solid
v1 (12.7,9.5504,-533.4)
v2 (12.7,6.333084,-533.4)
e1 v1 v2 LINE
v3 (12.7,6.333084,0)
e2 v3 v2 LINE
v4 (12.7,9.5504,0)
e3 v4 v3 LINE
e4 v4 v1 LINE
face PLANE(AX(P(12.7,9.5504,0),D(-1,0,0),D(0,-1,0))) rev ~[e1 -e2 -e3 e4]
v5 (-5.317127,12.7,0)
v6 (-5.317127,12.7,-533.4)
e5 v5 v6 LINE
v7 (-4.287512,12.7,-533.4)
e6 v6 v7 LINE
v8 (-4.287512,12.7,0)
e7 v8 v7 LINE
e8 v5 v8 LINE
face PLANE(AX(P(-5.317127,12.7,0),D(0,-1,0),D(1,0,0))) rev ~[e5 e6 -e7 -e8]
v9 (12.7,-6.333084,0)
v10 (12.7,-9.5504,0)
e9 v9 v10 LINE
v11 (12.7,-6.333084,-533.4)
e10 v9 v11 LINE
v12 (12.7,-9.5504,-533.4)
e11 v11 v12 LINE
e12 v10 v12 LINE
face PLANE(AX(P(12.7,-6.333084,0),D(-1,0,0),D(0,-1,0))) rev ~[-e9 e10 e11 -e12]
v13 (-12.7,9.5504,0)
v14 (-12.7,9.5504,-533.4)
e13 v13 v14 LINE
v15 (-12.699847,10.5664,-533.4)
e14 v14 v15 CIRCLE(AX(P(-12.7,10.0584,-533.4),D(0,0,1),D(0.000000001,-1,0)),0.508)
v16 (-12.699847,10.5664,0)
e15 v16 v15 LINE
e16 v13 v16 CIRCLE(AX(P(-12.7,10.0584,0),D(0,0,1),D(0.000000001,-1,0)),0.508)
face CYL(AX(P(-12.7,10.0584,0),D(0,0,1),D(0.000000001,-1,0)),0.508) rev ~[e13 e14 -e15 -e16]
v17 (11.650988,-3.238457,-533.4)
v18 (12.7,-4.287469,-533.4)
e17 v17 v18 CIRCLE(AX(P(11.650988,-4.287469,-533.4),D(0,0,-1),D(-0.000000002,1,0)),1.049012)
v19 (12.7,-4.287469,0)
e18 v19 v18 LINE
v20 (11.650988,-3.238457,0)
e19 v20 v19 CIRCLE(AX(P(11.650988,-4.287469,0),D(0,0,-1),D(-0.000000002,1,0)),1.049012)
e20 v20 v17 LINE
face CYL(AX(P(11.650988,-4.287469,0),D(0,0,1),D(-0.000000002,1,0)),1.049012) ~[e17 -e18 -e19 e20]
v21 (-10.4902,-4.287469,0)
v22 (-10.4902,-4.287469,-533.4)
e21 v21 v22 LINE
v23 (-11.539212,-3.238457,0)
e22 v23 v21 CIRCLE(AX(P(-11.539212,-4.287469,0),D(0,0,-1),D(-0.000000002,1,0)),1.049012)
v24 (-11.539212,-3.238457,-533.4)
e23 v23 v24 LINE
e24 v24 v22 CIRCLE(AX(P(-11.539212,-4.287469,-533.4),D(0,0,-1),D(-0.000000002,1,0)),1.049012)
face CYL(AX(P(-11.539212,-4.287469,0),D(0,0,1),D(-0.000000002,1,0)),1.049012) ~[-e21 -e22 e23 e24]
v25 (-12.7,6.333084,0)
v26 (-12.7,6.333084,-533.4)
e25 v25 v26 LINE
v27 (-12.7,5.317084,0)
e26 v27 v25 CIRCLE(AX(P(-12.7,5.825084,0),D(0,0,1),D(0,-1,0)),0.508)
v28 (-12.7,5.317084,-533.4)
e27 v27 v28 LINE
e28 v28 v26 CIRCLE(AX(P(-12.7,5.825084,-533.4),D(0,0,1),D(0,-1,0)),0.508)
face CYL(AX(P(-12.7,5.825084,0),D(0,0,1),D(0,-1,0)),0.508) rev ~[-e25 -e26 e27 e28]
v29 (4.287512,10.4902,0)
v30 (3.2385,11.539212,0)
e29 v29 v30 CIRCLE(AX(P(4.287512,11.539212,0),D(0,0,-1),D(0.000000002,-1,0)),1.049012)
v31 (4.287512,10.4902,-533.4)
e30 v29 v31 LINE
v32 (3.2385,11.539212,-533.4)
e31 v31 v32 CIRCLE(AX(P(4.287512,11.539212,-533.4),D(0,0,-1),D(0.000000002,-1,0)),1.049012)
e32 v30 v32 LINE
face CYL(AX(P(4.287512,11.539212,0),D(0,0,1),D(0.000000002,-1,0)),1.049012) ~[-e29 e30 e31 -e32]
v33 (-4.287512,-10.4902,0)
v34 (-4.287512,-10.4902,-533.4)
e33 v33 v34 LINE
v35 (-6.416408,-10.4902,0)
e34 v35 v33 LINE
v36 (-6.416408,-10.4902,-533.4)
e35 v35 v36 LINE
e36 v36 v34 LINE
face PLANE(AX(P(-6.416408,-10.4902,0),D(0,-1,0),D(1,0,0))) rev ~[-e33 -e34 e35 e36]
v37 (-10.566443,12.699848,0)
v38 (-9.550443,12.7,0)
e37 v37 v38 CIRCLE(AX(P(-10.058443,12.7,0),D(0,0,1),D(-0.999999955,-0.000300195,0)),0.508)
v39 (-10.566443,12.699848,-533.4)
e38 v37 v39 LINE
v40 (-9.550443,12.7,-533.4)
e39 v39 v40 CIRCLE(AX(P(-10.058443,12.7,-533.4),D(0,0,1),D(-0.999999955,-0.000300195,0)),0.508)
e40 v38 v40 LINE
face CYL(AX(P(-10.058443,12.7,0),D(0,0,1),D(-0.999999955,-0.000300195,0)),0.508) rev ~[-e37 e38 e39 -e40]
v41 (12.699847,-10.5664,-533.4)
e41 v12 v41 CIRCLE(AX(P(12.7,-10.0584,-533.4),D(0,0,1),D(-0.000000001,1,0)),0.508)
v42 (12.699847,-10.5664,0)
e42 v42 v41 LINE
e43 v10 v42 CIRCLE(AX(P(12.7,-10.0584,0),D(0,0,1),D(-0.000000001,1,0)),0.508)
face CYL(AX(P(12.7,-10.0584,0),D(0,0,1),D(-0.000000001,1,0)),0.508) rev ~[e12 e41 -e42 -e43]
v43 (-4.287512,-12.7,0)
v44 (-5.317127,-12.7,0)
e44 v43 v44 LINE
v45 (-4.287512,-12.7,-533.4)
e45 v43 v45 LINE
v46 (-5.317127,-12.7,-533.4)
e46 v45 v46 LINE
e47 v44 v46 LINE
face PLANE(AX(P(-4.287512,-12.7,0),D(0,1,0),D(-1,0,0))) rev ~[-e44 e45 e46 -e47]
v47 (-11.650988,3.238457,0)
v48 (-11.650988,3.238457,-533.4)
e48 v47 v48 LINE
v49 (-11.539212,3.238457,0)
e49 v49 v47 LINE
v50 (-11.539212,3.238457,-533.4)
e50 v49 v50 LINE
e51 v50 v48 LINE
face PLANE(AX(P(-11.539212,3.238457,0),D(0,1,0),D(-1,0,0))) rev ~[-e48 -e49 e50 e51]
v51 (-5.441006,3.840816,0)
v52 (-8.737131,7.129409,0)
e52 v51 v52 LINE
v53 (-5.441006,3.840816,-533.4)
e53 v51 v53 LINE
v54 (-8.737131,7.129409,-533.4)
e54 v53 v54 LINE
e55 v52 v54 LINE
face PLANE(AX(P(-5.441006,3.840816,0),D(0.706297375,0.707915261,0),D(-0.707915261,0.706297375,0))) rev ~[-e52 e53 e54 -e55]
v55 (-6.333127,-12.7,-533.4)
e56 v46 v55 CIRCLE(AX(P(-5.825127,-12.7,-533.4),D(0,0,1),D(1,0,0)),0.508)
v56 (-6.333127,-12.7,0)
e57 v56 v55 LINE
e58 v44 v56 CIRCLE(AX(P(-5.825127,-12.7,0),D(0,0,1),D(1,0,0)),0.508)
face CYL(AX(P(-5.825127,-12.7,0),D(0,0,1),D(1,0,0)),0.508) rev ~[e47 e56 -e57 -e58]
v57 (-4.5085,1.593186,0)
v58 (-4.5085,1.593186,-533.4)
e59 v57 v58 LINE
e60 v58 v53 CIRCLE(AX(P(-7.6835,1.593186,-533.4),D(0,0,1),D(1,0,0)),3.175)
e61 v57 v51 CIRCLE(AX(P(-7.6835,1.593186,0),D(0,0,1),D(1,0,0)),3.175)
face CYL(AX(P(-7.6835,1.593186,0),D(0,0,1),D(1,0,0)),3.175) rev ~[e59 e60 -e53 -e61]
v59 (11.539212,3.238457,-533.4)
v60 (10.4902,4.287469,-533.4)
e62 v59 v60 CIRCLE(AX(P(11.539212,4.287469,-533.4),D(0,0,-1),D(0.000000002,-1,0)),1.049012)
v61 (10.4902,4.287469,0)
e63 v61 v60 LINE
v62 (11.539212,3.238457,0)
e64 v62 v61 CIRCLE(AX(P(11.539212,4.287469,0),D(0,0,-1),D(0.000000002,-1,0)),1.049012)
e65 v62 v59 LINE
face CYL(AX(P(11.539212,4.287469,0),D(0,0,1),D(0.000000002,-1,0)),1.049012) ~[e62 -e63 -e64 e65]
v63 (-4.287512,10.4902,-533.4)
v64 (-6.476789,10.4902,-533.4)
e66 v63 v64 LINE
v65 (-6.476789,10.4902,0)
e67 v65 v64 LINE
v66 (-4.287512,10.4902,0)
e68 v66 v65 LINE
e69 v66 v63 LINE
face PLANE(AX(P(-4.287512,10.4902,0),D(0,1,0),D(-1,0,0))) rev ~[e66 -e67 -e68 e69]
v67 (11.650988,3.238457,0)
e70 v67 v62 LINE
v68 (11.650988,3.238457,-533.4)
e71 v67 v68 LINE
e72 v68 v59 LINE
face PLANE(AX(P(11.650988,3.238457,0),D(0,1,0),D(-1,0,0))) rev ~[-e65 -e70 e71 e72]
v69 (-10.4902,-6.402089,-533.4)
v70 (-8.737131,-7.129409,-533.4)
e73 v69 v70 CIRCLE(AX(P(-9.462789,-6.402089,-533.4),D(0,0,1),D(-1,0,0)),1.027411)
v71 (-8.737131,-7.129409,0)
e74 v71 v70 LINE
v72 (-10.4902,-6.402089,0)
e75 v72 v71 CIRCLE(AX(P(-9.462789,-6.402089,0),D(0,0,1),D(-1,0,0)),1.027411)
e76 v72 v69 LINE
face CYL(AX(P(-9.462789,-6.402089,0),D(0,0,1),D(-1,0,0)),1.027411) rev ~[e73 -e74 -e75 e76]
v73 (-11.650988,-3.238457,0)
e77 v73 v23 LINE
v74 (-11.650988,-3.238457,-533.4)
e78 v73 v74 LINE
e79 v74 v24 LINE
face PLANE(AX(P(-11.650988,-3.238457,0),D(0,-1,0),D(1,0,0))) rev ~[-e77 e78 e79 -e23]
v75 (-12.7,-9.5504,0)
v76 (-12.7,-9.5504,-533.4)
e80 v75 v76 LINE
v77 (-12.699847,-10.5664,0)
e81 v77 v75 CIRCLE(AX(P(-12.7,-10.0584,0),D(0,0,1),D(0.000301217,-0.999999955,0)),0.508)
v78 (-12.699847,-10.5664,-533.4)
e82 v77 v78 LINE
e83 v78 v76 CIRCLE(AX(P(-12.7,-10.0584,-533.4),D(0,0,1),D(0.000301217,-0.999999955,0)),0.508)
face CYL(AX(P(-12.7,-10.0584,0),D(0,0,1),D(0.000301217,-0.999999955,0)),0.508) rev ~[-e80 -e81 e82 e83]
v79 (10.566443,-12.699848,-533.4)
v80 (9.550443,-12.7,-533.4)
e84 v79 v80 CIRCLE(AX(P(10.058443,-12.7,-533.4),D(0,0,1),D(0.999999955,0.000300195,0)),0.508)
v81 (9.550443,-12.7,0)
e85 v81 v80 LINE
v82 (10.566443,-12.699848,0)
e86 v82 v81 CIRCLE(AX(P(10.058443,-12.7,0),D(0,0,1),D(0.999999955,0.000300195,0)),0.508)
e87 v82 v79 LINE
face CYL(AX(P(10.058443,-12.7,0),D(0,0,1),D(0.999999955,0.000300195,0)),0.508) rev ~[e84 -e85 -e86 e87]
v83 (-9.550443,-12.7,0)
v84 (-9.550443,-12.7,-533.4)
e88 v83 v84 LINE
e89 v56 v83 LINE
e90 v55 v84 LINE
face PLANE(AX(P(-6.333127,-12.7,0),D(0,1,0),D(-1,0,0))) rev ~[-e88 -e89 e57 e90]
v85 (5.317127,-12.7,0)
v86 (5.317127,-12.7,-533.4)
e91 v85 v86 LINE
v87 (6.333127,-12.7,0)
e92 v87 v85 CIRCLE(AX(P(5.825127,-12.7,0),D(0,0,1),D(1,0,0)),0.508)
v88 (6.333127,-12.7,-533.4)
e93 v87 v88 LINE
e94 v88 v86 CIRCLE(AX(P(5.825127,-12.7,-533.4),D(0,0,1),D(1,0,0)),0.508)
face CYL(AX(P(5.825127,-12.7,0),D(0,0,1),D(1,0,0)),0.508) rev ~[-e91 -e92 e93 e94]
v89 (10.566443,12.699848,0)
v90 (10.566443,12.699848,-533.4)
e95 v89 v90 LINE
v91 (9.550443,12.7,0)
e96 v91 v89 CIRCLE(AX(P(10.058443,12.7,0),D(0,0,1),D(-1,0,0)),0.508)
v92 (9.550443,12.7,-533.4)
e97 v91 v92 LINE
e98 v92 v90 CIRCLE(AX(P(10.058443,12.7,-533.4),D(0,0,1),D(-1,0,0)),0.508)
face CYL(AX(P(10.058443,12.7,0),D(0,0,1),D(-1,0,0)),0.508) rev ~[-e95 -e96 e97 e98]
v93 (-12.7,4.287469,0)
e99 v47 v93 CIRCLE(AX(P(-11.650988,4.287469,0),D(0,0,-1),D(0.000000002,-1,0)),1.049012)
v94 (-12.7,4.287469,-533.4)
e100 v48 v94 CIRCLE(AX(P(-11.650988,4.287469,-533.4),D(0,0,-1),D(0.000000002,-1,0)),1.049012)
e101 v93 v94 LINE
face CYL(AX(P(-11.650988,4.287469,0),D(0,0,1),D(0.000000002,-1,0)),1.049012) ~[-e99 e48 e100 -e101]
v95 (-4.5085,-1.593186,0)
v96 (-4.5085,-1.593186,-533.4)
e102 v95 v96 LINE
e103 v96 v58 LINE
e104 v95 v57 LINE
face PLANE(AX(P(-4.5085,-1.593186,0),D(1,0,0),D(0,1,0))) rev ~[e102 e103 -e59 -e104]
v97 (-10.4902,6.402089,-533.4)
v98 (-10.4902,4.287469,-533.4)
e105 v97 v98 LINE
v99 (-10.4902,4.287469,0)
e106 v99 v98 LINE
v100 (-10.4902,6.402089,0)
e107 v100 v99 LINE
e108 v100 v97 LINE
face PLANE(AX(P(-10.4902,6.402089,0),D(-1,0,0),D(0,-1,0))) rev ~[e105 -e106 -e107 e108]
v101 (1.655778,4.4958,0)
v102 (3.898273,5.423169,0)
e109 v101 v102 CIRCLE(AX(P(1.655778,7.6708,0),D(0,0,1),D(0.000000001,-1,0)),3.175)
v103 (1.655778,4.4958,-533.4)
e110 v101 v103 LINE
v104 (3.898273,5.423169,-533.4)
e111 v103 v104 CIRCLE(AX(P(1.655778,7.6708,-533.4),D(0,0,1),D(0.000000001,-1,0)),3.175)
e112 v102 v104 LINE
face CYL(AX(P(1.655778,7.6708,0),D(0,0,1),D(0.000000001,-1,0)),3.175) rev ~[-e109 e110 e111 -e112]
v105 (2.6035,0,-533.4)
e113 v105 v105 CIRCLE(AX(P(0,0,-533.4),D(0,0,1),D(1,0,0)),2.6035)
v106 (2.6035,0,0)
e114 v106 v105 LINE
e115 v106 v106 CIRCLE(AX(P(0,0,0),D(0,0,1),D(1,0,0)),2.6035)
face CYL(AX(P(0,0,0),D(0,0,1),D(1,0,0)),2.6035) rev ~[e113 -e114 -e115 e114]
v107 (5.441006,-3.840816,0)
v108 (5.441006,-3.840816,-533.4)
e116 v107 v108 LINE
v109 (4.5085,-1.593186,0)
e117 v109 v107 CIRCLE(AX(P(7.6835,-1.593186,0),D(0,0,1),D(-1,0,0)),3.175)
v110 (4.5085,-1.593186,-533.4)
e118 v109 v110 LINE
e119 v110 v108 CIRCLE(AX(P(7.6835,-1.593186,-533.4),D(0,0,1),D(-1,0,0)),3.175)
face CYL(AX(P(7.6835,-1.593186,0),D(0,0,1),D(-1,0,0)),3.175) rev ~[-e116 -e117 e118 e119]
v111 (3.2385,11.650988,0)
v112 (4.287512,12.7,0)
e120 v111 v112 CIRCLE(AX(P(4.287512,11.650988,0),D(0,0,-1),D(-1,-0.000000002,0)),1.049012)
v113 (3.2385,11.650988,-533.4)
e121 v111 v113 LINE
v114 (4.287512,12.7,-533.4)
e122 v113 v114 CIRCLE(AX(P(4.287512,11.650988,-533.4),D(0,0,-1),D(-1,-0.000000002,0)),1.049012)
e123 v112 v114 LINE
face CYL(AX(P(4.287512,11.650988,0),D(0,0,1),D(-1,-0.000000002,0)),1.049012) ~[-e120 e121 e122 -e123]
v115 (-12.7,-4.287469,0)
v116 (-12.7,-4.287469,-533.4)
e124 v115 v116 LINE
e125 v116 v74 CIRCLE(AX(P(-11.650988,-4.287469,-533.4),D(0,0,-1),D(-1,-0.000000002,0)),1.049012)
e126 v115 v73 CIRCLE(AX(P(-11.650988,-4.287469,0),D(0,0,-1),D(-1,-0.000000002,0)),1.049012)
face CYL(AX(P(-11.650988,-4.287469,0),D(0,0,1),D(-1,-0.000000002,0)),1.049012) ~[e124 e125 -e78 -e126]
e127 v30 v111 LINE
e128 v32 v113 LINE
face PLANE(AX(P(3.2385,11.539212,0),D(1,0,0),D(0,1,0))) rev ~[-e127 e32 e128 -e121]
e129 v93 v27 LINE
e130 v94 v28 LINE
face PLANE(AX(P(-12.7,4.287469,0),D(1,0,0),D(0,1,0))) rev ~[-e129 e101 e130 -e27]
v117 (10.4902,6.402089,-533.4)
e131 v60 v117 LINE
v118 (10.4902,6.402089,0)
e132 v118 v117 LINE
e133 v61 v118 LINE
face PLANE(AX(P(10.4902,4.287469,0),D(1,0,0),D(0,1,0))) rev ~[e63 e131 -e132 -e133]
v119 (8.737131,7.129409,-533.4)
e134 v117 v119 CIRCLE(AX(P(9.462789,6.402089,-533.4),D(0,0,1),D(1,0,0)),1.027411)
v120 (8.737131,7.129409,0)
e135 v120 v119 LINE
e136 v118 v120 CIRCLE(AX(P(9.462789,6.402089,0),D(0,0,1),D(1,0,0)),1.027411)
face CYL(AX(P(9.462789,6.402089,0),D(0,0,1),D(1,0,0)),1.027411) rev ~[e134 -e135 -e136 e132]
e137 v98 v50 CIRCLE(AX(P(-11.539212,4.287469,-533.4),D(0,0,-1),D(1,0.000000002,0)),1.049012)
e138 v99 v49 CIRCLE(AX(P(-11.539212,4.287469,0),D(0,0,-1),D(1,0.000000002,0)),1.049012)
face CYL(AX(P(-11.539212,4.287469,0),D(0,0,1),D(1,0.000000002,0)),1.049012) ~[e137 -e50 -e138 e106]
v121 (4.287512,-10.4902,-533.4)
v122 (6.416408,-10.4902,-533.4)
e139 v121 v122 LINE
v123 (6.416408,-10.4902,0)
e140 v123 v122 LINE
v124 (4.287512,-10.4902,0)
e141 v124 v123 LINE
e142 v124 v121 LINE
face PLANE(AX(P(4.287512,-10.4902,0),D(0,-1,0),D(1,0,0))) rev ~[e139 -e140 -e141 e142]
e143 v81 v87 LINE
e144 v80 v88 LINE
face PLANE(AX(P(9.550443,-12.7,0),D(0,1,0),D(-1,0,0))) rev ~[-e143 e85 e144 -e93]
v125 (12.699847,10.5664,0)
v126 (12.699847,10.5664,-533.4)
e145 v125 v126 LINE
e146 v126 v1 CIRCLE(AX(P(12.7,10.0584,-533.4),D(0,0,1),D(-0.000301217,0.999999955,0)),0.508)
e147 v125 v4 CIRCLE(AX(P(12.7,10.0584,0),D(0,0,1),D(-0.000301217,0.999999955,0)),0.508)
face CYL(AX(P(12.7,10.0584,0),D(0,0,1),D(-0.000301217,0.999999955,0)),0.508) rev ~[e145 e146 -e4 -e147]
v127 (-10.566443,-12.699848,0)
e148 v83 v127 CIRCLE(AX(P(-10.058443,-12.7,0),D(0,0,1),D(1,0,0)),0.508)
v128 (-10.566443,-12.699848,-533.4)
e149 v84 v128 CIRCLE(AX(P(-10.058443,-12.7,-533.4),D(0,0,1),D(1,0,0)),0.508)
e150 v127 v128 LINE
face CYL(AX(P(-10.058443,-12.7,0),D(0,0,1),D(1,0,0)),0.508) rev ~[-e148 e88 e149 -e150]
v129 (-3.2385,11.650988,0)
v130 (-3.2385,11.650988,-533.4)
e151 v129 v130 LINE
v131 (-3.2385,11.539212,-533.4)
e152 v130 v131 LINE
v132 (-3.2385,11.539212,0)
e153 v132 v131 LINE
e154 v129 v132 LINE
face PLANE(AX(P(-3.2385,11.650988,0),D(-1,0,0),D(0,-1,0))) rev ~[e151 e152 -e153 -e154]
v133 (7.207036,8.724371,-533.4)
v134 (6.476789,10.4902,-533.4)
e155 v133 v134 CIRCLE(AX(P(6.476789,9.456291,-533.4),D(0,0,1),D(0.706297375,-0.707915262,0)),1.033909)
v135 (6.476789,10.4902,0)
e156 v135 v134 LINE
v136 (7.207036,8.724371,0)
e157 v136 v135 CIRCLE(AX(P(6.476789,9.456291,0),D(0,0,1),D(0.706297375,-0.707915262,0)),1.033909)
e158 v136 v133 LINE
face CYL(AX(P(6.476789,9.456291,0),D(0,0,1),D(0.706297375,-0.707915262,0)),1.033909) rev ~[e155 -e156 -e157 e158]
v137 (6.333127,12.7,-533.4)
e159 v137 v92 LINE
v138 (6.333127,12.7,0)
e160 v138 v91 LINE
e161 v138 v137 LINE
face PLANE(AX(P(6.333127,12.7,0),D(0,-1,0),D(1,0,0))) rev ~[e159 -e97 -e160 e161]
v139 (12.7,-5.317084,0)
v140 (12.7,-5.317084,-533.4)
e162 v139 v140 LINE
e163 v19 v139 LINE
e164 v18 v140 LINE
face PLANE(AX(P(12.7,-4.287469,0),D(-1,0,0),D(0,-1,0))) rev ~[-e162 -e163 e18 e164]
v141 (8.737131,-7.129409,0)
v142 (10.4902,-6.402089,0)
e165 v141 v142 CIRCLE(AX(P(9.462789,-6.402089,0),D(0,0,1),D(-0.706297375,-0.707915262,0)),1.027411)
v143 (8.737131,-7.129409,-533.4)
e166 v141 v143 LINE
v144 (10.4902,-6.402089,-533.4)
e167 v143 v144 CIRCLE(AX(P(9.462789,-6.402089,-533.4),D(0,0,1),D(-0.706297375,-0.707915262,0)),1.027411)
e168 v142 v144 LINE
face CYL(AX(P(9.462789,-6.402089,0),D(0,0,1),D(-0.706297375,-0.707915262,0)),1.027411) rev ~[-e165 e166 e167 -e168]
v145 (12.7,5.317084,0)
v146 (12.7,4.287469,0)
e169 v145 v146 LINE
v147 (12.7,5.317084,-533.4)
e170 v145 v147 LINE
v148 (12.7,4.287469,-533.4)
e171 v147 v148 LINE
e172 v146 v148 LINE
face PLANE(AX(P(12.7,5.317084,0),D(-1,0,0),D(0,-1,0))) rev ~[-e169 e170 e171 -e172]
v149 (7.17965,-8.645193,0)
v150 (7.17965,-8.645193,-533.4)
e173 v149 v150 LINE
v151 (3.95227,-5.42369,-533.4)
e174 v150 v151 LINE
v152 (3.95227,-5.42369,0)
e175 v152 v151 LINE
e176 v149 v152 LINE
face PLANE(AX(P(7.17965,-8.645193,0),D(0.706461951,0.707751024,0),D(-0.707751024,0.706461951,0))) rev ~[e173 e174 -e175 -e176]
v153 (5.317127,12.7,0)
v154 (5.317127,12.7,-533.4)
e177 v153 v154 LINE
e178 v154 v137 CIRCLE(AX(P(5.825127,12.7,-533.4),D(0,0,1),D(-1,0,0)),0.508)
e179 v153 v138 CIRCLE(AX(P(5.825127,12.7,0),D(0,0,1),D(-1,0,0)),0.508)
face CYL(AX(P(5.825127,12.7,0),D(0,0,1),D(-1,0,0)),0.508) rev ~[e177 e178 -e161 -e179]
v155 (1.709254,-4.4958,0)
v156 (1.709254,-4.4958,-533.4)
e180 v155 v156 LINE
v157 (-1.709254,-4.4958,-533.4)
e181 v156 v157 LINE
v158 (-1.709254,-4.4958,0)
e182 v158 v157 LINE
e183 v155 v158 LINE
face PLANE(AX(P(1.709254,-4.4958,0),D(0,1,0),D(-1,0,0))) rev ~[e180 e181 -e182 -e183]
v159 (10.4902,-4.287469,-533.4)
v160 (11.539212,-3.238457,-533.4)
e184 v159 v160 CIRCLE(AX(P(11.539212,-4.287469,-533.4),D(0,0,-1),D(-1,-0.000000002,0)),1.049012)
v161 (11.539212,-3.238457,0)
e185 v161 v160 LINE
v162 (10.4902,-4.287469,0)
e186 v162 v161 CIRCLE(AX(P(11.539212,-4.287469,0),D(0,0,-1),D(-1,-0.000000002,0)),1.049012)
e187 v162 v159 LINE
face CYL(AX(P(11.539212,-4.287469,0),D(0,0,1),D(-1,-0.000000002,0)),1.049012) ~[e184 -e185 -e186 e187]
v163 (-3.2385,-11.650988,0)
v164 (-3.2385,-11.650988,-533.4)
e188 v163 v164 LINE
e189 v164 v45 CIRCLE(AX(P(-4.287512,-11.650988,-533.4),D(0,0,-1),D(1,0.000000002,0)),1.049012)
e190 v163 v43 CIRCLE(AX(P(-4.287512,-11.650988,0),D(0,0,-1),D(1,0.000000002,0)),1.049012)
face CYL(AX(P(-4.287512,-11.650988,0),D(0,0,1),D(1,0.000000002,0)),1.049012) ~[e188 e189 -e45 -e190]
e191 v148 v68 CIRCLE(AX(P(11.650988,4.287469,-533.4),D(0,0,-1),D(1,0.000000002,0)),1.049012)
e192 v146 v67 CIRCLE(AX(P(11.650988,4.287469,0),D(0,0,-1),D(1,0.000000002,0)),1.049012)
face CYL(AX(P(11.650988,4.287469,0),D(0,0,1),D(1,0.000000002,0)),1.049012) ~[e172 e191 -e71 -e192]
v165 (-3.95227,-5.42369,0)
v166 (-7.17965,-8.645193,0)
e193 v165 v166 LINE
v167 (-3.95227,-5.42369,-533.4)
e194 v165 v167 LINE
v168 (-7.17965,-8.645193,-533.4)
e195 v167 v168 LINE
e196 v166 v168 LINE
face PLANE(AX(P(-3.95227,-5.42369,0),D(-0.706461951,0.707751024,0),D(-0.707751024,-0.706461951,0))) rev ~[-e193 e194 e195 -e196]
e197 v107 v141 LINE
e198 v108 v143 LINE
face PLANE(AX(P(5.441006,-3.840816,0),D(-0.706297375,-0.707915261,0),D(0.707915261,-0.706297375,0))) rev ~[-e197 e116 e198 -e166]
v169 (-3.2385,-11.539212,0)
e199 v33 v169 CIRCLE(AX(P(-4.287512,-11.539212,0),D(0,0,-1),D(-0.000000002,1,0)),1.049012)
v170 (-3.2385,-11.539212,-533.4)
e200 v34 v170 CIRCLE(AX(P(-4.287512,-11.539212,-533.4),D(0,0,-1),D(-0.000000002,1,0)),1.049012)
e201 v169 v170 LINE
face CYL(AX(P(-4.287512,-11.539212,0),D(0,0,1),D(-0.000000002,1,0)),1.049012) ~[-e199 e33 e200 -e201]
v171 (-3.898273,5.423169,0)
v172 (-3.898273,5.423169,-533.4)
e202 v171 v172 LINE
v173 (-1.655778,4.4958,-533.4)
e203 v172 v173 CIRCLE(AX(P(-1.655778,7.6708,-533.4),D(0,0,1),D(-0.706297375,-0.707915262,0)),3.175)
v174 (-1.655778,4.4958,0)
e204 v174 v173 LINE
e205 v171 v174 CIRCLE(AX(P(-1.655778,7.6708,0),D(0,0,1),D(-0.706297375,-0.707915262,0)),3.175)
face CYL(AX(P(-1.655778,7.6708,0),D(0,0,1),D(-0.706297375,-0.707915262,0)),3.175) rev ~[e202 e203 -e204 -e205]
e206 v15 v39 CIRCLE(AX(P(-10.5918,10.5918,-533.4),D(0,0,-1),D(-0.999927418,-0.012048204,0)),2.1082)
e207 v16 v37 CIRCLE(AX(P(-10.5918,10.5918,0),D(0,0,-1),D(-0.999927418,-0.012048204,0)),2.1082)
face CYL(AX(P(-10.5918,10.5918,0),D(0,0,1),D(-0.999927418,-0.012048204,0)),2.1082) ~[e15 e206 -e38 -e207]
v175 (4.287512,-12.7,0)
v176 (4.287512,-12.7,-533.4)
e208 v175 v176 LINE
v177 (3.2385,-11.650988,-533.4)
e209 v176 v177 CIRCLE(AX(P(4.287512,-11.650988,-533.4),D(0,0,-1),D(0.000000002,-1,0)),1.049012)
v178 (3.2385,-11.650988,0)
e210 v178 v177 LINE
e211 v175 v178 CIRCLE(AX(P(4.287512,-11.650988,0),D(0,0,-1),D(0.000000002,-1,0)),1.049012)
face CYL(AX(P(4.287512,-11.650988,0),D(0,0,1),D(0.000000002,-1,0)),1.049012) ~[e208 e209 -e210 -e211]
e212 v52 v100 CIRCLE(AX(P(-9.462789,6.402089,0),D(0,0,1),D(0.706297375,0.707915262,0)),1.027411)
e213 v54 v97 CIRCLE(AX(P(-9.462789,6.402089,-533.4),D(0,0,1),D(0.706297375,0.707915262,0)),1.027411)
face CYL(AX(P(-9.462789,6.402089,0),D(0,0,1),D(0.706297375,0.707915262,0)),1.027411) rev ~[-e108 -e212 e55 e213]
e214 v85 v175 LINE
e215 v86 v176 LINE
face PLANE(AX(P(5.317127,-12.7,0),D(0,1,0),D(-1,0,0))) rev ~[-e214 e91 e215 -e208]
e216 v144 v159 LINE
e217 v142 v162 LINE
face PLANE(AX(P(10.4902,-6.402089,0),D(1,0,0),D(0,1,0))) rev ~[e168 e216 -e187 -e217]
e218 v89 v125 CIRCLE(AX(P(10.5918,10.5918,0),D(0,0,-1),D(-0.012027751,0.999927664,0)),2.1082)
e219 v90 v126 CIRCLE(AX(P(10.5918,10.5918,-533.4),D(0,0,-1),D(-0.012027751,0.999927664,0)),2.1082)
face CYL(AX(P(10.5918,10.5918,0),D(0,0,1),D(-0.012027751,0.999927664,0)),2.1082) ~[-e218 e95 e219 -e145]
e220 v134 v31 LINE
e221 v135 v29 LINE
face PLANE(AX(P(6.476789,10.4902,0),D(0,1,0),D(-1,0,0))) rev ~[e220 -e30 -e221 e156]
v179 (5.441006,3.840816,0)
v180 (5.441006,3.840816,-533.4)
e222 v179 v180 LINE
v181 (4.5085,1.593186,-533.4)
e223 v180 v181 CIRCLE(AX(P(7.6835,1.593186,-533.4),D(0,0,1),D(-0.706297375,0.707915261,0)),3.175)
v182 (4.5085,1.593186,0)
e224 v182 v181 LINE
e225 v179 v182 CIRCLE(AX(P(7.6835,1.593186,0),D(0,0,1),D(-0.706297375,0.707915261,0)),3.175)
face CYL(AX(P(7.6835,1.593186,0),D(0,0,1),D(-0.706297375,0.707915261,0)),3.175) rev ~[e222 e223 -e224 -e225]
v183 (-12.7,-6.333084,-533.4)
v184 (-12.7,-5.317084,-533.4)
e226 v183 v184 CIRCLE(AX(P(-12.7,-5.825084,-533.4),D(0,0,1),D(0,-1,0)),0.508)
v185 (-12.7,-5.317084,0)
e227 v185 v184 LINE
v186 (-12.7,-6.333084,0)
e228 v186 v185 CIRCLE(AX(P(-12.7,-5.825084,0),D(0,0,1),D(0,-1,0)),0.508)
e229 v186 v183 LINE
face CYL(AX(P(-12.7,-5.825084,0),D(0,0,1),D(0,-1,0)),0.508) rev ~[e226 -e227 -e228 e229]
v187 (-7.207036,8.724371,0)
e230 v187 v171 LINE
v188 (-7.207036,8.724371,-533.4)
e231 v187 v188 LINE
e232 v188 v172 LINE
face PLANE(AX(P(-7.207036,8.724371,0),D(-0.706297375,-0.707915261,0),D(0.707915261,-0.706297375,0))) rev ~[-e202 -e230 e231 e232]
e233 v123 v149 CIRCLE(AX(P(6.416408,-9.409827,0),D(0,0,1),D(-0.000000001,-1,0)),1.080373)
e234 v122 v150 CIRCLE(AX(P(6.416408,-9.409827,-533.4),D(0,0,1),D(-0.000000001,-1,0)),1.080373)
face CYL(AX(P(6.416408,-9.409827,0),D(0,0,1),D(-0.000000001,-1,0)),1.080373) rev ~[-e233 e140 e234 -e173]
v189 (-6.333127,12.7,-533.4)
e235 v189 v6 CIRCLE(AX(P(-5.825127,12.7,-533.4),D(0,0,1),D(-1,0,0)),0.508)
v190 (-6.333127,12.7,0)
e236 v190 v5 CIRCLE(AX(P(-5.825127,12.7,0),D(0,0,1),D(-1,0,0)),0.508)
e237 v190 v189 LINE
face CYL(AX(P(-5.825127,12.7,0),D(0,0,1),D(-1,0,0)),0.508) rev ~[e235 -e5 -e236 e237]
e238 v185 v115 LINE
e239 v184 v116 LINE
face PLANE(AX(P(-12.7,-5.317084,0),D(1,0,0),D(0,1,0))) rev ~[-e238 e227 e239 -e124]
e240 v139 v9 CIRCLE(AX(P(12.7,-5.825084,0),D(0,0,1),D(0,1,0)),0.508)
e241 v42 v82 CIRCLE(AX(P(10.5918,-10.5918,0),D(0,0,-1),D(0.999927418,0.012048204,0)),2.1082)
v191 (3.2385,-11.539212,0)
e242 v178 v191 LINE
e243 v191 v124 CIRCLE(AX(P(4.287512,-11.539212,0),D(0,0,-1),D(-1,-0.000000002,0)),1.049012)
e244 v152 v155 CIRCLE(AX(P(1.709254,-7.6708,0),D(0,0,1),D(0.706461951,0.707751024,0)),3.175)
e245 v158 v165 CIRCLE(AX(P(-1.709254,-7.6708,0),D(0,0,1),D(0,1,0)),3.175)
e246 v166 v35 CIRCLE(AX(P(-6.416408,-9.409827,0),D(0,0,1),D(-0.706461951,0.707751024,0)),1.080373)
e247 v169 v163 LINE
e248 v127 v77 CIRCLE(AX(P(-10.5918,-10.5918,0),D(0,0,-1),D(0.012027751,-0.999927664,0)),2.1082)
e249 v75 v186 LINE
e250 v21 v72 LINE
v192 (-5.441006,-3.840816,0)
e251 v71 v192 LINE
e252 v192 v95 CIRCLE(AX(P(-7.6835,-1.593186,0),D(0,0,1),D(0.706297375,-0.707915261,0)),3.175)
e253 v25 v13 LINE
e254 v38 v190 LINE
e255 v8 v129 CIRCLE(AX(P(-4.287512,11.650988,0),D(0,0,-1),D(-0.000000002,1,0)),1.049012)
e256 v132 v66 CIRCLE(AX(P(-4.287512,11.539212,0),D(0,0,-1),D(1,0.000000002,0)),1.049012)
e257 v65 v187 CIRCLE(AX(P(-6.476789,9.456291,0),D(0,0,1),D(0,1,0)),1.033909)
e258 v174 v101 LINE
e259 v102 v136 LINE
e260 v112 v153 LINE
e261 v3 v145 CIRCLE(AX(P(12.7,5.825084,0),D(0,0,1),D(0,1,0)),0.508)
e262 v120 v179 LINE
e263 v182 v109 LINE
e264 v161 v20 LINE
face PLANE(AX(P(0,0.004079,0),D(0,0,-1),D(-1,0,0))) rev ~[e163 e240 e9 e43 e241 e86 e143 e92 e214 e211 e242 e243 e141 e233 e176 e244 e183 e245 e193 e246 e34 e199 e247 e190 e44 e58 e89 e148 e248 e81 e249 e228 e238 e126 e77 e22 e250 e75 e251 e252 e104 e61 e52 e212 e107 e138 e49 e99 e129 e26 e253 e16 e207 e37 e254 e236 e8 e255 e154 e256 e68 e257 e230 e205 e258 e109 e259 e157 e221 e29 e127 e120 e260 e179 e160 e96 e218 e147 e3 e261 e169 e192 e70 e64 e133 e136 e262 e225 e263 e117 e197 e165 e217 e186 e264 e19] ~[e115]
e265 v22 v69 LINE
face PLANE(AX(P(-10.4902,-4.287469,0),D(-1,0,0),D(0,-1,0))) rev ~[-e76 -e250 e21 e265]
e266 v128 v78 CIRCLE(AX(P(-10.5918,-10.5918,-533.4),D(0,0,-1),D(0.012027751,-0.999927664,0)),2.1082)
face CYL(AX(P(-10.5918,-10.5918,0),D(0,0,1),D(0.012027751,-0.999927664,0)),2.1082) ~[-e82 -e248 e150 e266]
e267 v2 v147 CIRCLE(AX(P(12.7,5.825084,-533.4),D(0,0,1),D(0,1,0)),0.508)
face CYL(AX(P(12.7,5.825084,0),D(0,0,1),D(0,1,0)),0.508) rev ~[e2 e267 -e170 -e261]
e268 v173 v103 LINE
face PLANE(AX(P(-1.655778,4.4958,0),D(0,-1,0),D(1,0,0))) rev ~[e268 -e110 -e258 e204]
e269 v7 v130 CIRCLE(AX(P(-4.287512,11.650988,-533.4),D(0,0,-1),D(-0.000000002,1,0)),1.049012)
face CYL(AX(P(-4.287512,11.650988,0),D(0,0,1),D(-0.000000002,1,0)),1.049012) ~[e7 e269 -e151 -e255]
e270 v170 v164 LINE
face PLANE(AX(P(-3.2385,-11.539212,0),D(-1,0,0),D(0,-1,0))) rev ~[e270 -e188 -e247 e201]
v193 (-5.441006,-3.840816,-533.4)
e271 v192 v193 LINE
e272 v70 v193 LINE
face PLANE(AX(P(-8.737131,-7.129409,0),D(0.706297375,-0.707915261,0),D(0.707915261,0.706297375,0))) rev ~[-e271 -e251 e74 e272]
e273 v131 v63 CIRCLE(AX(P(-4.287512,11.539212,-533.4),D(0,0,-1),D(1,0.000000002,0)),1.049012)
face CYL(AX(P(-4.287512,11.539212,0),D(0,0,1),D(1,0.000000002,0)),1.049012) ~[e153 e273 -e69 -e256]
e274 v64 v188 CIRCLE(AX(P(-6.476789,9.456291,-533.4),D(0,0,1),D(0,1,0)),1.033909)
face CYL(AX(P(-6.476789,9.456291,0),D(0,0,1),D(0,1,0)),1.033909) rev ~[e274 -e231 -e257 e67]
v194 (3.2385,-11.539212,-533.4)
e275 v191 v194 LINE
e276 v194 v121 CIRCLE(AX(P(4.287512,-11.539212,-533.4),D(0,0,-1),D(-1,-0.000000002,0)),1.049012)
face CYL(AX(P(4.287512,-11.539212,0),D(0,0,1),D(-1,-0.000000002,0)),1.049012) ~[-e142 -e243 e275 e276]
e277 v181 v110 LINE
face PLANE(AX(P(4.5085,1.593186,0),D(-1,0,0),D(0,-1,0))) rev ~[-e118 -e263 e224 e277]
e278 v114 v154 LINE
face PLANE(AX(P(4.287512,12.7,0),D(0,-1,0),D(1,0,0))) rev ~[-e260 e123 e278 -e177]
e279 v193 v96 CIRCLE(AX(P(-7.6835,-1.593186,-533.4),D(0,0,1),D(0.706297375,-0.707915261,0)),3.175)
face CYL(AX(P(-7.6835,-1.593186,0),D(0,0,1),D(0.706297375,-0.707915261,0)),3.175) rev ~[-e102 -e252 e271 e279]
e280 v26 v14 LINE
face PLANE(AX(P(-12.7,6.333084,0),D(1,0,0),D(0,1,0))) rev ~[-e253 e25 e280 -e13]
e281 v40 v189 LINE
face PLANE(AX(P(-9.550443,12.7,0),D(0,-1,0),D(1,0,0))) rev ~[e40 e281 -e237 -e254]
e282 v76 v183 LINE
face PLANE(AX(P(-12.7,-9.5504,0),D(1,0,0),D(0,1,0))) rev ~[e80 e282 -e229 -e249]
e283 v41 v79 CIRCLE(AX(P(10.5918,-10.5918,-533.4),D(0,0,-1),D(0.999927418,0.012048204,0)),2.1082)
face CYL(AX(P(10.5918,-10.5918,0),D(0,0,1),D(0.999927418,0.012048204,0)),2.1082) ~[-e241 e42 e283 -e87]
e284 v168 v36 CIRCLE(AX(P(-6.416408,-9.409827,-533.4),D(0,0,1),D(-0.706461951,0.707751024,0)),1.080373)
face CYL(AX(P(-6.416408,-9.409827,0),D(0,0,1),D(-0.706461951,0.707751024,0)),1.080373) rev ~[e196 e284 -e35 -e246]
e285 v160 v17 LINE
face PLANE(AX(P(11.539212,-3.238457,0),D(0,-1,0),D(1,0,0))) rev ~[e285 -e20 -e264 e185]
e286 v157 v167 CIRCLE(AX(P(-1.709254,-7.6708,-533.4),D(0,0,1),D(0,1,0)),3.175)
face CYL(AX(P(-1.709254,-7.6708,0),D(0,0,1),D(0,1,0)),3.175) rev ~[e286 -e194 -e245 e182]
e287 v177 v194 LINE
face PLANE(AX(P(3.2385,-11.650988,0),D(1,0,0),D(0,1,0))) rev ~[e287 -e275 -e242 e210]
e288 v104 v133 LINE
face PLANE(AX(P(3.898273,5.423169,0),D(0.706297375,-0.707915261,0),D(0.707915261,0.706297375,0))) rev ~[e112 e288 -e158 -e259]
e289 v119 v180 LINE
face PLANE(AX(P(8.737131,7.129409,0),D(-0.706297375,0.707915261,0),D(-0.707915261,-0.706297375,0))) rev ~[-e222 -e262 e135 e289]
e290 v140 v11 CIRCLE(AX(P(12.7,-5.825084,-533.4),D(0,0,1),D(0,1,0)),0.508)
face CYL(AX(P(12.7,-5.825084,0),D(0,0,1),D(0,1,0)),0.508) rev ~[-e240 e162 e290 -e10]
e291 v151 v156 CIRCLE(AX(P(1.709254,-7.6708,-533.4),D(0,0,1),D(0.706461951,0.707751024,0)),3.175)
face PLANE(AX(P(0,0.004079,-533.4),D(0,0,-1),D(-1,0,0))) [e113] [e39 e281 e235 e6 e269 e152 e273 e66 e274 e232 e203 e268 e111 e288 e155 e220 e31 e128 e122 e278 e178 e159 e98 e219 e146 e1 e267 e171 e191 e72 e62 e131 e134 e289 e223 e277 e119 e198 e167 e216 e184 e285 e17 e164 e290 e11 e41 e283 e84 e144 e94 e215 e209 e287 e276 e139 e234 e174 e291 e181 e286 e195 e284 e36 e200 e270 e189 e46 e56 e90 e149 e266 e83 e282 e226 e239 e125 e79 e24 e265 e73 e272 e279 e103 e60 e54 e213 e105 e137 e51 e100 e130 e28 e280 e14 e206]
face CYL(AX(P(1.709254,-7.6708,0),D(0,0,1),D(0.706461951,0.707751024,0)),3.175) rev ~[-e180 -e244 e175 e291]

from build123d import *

# Parameters (mm, degrees)
SKETCH1_R      = 2.6035
EXTRUDE1_DEPTH = 533.4


with BuildPart() as part:
    # Sketch1 → Extrude1 (new body)
    with BuildSketch(Plane.XY):
        with BuildLine():
            Line((-7.207036008, 8.724370562), (-3.898272566, 5.423169045))
            ThreePointArc((-3.898272566, 5.423169045), (-2.869120213, 4.736787962), (-1.655778399, 4.4958))
            Line((-1.655778399, 4.4958), (1.655778399, 4.4958))
            ThreePointArc((1.655778399, 4.4958), (2.869120213, 4.736787962), (3.898272566, 5.423169045))
            Line((3.898272566, 5.423169045), (7.207036008, 8.724370562))
            ThreePointArc((7.207036008, 8.724370562), (7.432222385, 9.85140422), (6.476788598, 10.4902))
            Line((6.476788598, 10.4902), (4.287512407, 10.4902))
            ThreePointArc((4.287512407, 10.4902), (3.54574862, 10.79744862), (3.2385, 11.539212407))
            Line((3.2385, 11.539212407), (3.2385, 11.650987593))
            ThreePointArc((3.2385, 11.650987593), (3.54574862, 12.39275138), (4.287512407, 12.7))
            Line((4.287512407, 12.7), (5.317126718, 12.7))
            ThreePointArc((5.317126718, 12.7), (5.825126718, 12.192), (6.333126718, 12.7))
            Line((6.333126718, 12.7), (9.550443118, 12.7))
            ThreePointArc((9.550443118, 12.7), (10.058366869, 12.192000006), (10.566443095, 12.699847501))
            ThreePointArc((10.566443095, 12.699847501), (12.082537762, 12.08250727), (12.699846982, 10.566399977))
            ThreePointArc((12.699846982, 10.566399977), (12.192000006, 10.058323491), (12.7, 9.5504))
            Line((12.7, 9.5504), (12.7, 6.3330836))
            ThreePointArc((12.7, 6.3330836), (12.192, 5.8250836), (12.7, 5.3170836))
            Line((12.7, 5.3170836), (12.7, 4.287469289))
            ThreePointArc((12.7, 4.287469289), (12.39275138, 3.545705502), (11.650987593, 3.238456882))
            Line((11.650987593, 3.238456882), (11.539212407, 3.238456882))
            ThreePointArc((11.539212407, 3.238456882), (10.79744862, 3.545705502), (10.4902, 4.287469289))
            Line((10.4902, 4.287469289), (10.4902, 6.402089023))
            ThreePointArc((10.4902, 6.402089023), (9.856505071, 7.351067942), (8.737131347, 7.129408934))
            Line((8.737131347, 7.129408934), (5.441005833, 3.840816462))
            ThreePointArc((5.441005833, 3.840816462), (4.750877967, 2.809883091), (4.5085, 1.593185507))
            Line((4.5085, 1.593185507), (4.5085, -1.593185507))
            ThreePointArc((4.5085, -1.593185507), (4.750877967, -2.809883091), (5.441005833, -3.840816462))
            Line((5.441005833, -3.840816462), (8.737131347, -7.129408934))
            ThreePointArc((8.737131347, -7.129408934), (9.856505071, -7.351067942), (10.4902, -6.402089023))
            Line((10.4902, -6.402089023), (10.4902, -4.287469289))
            ThreePointArc((10.4902, -4.287469289), (10.79744862, -3.545705502), (11.539212407, -3.238456882))
            Line((11.539212407, -3.238456882), (11.650987593, -3.238456882))
            ThreePointArc((11.650987593, -3.238456882), (12.39275138, -3.545705502), (12.7, -4.287469289))
            Line((12.7, -4.287469289), (12.7, -5.3170836))
            ThreePointArc((12.7, -5.3170836), (12.192, -5.8250836), (12.7, -6.3330836))
            Line((12.7, -6.3330836), (12.7, -9.5504))
            ThreePointArc((12.7, -9.5504), (12.192000006, -10.058323491), (12.699846982, -10.566399977))
            ThreePointArc((12.699846982, -10.566399977), (12.082537762, -12.08250727), (10.566443095, -12.699847501))
            ThreePointArc((10.566443095, -12.699847501), (10.058366869, -12.192000006), (9.550443118, -12.7))
            Line((9.550443118, -12.7), (6.333126718, -12.7))
            ThreePointArc((6.333126718, -12.7), (5.825126718, -12.192), (5.317126718, -12.7))
            Line((5.317126718, -12.7), (4.287512407, -12.7))
            ThreePointArc((4.287512407, -12.7), (3.54574862, -12.39275138), (3.2385, -11.650987593))
            Line((3.2385, -11.650987593), (3.2385, -11.539212407))
            ThreePointArc((3.2385, -11.539212407), (3.54574862, -10.79744862), (4.287512407, -10.4902))
            Line((4.287512407, -10.4902), (6.416408329, -10.4902))
            ThreePointArc((6.416408329, -10.4902), (7.41473083, -9.822813117), (7.179650497, -8.645192506))
            Line((7.179650497, -8.645192506), (3.952270251, -5.423690499))
            ThreePointArc((3.952270251, -5.423690499), (2.922936451, -4.736929036), (1.709253557, -4.4958))
            Line((1.709253557, -4.4958), (-1.709253557, -4.4958))
            ThreePointArc((-1.709253557, -4.4958), (-2.922936451, -4.736929036), (-3.952270251, -5.423690499))
            Line((-3.952270251, -5.423690499), (-7.179650497, -8.645192506))
            ThreePointArc((-7.179650497, -8.645192506), (-7.41473083, -9.822813117), (-6.416408329, -10.4902))
            Line((-6.416408329, -10.4902), (-4.287512407, -10.4902))
            ThreePointArc((-4.287512407, -10.4902), (-3.54574862, -10.79744862), (-3.2385, -11.539212407))
            Line((-3.2385, -11.539212407), (-3.2385, -11.650987593))
            ThreePointArc((-3.2385, -11.650987593), (-3.54574862, -12.39275138), (-4.287512407, -12.7))
            Line((-4.287512407, -12.7), (-5.317126718, -12.7))
            ThreePointArc((-5.317126718, -12.7), (-5.825126718, -12.192), (-6.333126718, -12.7))
            Line((-6.333126718, -12.7), (-9.550443118, -12.7))
            ThreePointArc((-9.550443118, -12.7), (-10.058366869, -12.192000006), (-10.566443095, -12.699847501))
            ThreePointArc((-10.566443095, -12.699847501), (-12.082537762, -12.08250727), (-12.699846982, -10.566399977))
            ThreePointArc((-12.699846982, -10.566399977), (-12.192000006, -10.058323491), (-12.7, -9.5504))
            Line((-12.7, -9.5504), (-12.7, -6.3330836))
            ThreePointArc((-12.7, -6.3330836), (-12.192, -5.8250836), (-12.7, -5.3170836))
            Line((-12.7, -5.3170836), (-12.7, -4.287469289))
            ThreePointArc((-12.7, -4.287469289), (-12.39275138, -3.545705502), (-11.650987593, -3.238456882))
            Line((-11.650987593, -3.238456882), (-11.539212407, -3.238456882))
            ThreePointArc((-11.539212407, -3.238456882), (-10.79744862, -3.545705502), (-10.4902, -4.287469289))
            Line((-10.4902, -4.287469289), (-10.4902, -6.402089023))
            ThreePointArc((-10.4902, -6.402089023), (-9.856505071, -7.351067942), (-8.737131347, -7.129408934))
            Line((-8.737131347, -7.129408934), (-5.441005833, -3.840816462))
            ThreePointArc((-5.441005833, -3.840816462), (-4.750877967, -2.809883091), (-4.5085, -1.593185507))
            Line((-4.5085, -1.593185507), (-4.5085, 1.593185507))
            ThreePointArc((-4.5085, 1.593185507), (-4.750877967, 2.809883091), (-5.441005833, 3.840816462))
            Line((-5.441005833, 3.840816462), (-8.737131347, 7.129408934))
            ThreePointArc((-8.737131347, 7.129408934), (-9.856505071, 7.351067942), (-10.4902, 6.402089023))
            Line((-10.4902, 6.402089023), (-10.4902, 4.287469289))
            ThreePointArc((-10.4902, 4.287469289), (-10.79744862, 3.545705502), (-11.539212407, 3.238456882))
            Line((-11.539212407, 3.238456882), (-11.650987593, 3.238456882))
            ThreePointArc((-11.650987593, 3.238456882), (-12.39275138, 3.545705502), (-12.7, 4.287469289))
            Line((-12.7, 4.287469289), (-12.7, 5.3170836))
            ThreePointArc((-12.7, 5.3170836), (-12.192, 5.8250836), (-12.7, 6.3330836))
            Line((-12.7, 6.3330836), (-12.7, 9.5504))
            ThreePointArc((-12.7, 9.5504), (-12.192000006, 10.058323491), (-12.699846982, 10.566399977))
            ThreePointArc((-12.699846982, 10.566399977), (-12.082537762, 12.08250727), (-10.566443095, 12.699847501))
            ThreePointArc((-10.566443095, 12.699847501), (-10.058366869, 12.192000006), (-9.550443118, 12.7))
            Line((-9.550443118, 12.7), (-6.333126718, 12.7))
            ThreePointArc((-6.333126718, 12.7), (-5.825126718, 12.192), (-5.317126718, 12.7))
            Line((-5.317126718, 12.7), (-4.287512407, 12.7))
            ThreePointArc((-4.287512407, 12.7), (-3.54574862, 12.39275138), (-3.2385, 11.650987593))
            Line((-3.2385, 11.650987593), (-3.2385, 11.539212407))
            ThreePointArc((-3.2385, 11.539212407), (-3.54574862, 10.79744862), (-4.287512407, 10.4902))
            Line((-4.287512407, 10.4902), (-6.476788598, 10.4902))
            ThreePointArc((-6.476788598, 10.4902), (-7.432222385, 9.85140422), (-7.207036008, 8.724370562))
        make_face()
        Circle(SKETCH1_R, mode=Mode.SUBTRACT)
    extrude(amount=-EXTRUDE1_DEPTH)


solid = part.part
